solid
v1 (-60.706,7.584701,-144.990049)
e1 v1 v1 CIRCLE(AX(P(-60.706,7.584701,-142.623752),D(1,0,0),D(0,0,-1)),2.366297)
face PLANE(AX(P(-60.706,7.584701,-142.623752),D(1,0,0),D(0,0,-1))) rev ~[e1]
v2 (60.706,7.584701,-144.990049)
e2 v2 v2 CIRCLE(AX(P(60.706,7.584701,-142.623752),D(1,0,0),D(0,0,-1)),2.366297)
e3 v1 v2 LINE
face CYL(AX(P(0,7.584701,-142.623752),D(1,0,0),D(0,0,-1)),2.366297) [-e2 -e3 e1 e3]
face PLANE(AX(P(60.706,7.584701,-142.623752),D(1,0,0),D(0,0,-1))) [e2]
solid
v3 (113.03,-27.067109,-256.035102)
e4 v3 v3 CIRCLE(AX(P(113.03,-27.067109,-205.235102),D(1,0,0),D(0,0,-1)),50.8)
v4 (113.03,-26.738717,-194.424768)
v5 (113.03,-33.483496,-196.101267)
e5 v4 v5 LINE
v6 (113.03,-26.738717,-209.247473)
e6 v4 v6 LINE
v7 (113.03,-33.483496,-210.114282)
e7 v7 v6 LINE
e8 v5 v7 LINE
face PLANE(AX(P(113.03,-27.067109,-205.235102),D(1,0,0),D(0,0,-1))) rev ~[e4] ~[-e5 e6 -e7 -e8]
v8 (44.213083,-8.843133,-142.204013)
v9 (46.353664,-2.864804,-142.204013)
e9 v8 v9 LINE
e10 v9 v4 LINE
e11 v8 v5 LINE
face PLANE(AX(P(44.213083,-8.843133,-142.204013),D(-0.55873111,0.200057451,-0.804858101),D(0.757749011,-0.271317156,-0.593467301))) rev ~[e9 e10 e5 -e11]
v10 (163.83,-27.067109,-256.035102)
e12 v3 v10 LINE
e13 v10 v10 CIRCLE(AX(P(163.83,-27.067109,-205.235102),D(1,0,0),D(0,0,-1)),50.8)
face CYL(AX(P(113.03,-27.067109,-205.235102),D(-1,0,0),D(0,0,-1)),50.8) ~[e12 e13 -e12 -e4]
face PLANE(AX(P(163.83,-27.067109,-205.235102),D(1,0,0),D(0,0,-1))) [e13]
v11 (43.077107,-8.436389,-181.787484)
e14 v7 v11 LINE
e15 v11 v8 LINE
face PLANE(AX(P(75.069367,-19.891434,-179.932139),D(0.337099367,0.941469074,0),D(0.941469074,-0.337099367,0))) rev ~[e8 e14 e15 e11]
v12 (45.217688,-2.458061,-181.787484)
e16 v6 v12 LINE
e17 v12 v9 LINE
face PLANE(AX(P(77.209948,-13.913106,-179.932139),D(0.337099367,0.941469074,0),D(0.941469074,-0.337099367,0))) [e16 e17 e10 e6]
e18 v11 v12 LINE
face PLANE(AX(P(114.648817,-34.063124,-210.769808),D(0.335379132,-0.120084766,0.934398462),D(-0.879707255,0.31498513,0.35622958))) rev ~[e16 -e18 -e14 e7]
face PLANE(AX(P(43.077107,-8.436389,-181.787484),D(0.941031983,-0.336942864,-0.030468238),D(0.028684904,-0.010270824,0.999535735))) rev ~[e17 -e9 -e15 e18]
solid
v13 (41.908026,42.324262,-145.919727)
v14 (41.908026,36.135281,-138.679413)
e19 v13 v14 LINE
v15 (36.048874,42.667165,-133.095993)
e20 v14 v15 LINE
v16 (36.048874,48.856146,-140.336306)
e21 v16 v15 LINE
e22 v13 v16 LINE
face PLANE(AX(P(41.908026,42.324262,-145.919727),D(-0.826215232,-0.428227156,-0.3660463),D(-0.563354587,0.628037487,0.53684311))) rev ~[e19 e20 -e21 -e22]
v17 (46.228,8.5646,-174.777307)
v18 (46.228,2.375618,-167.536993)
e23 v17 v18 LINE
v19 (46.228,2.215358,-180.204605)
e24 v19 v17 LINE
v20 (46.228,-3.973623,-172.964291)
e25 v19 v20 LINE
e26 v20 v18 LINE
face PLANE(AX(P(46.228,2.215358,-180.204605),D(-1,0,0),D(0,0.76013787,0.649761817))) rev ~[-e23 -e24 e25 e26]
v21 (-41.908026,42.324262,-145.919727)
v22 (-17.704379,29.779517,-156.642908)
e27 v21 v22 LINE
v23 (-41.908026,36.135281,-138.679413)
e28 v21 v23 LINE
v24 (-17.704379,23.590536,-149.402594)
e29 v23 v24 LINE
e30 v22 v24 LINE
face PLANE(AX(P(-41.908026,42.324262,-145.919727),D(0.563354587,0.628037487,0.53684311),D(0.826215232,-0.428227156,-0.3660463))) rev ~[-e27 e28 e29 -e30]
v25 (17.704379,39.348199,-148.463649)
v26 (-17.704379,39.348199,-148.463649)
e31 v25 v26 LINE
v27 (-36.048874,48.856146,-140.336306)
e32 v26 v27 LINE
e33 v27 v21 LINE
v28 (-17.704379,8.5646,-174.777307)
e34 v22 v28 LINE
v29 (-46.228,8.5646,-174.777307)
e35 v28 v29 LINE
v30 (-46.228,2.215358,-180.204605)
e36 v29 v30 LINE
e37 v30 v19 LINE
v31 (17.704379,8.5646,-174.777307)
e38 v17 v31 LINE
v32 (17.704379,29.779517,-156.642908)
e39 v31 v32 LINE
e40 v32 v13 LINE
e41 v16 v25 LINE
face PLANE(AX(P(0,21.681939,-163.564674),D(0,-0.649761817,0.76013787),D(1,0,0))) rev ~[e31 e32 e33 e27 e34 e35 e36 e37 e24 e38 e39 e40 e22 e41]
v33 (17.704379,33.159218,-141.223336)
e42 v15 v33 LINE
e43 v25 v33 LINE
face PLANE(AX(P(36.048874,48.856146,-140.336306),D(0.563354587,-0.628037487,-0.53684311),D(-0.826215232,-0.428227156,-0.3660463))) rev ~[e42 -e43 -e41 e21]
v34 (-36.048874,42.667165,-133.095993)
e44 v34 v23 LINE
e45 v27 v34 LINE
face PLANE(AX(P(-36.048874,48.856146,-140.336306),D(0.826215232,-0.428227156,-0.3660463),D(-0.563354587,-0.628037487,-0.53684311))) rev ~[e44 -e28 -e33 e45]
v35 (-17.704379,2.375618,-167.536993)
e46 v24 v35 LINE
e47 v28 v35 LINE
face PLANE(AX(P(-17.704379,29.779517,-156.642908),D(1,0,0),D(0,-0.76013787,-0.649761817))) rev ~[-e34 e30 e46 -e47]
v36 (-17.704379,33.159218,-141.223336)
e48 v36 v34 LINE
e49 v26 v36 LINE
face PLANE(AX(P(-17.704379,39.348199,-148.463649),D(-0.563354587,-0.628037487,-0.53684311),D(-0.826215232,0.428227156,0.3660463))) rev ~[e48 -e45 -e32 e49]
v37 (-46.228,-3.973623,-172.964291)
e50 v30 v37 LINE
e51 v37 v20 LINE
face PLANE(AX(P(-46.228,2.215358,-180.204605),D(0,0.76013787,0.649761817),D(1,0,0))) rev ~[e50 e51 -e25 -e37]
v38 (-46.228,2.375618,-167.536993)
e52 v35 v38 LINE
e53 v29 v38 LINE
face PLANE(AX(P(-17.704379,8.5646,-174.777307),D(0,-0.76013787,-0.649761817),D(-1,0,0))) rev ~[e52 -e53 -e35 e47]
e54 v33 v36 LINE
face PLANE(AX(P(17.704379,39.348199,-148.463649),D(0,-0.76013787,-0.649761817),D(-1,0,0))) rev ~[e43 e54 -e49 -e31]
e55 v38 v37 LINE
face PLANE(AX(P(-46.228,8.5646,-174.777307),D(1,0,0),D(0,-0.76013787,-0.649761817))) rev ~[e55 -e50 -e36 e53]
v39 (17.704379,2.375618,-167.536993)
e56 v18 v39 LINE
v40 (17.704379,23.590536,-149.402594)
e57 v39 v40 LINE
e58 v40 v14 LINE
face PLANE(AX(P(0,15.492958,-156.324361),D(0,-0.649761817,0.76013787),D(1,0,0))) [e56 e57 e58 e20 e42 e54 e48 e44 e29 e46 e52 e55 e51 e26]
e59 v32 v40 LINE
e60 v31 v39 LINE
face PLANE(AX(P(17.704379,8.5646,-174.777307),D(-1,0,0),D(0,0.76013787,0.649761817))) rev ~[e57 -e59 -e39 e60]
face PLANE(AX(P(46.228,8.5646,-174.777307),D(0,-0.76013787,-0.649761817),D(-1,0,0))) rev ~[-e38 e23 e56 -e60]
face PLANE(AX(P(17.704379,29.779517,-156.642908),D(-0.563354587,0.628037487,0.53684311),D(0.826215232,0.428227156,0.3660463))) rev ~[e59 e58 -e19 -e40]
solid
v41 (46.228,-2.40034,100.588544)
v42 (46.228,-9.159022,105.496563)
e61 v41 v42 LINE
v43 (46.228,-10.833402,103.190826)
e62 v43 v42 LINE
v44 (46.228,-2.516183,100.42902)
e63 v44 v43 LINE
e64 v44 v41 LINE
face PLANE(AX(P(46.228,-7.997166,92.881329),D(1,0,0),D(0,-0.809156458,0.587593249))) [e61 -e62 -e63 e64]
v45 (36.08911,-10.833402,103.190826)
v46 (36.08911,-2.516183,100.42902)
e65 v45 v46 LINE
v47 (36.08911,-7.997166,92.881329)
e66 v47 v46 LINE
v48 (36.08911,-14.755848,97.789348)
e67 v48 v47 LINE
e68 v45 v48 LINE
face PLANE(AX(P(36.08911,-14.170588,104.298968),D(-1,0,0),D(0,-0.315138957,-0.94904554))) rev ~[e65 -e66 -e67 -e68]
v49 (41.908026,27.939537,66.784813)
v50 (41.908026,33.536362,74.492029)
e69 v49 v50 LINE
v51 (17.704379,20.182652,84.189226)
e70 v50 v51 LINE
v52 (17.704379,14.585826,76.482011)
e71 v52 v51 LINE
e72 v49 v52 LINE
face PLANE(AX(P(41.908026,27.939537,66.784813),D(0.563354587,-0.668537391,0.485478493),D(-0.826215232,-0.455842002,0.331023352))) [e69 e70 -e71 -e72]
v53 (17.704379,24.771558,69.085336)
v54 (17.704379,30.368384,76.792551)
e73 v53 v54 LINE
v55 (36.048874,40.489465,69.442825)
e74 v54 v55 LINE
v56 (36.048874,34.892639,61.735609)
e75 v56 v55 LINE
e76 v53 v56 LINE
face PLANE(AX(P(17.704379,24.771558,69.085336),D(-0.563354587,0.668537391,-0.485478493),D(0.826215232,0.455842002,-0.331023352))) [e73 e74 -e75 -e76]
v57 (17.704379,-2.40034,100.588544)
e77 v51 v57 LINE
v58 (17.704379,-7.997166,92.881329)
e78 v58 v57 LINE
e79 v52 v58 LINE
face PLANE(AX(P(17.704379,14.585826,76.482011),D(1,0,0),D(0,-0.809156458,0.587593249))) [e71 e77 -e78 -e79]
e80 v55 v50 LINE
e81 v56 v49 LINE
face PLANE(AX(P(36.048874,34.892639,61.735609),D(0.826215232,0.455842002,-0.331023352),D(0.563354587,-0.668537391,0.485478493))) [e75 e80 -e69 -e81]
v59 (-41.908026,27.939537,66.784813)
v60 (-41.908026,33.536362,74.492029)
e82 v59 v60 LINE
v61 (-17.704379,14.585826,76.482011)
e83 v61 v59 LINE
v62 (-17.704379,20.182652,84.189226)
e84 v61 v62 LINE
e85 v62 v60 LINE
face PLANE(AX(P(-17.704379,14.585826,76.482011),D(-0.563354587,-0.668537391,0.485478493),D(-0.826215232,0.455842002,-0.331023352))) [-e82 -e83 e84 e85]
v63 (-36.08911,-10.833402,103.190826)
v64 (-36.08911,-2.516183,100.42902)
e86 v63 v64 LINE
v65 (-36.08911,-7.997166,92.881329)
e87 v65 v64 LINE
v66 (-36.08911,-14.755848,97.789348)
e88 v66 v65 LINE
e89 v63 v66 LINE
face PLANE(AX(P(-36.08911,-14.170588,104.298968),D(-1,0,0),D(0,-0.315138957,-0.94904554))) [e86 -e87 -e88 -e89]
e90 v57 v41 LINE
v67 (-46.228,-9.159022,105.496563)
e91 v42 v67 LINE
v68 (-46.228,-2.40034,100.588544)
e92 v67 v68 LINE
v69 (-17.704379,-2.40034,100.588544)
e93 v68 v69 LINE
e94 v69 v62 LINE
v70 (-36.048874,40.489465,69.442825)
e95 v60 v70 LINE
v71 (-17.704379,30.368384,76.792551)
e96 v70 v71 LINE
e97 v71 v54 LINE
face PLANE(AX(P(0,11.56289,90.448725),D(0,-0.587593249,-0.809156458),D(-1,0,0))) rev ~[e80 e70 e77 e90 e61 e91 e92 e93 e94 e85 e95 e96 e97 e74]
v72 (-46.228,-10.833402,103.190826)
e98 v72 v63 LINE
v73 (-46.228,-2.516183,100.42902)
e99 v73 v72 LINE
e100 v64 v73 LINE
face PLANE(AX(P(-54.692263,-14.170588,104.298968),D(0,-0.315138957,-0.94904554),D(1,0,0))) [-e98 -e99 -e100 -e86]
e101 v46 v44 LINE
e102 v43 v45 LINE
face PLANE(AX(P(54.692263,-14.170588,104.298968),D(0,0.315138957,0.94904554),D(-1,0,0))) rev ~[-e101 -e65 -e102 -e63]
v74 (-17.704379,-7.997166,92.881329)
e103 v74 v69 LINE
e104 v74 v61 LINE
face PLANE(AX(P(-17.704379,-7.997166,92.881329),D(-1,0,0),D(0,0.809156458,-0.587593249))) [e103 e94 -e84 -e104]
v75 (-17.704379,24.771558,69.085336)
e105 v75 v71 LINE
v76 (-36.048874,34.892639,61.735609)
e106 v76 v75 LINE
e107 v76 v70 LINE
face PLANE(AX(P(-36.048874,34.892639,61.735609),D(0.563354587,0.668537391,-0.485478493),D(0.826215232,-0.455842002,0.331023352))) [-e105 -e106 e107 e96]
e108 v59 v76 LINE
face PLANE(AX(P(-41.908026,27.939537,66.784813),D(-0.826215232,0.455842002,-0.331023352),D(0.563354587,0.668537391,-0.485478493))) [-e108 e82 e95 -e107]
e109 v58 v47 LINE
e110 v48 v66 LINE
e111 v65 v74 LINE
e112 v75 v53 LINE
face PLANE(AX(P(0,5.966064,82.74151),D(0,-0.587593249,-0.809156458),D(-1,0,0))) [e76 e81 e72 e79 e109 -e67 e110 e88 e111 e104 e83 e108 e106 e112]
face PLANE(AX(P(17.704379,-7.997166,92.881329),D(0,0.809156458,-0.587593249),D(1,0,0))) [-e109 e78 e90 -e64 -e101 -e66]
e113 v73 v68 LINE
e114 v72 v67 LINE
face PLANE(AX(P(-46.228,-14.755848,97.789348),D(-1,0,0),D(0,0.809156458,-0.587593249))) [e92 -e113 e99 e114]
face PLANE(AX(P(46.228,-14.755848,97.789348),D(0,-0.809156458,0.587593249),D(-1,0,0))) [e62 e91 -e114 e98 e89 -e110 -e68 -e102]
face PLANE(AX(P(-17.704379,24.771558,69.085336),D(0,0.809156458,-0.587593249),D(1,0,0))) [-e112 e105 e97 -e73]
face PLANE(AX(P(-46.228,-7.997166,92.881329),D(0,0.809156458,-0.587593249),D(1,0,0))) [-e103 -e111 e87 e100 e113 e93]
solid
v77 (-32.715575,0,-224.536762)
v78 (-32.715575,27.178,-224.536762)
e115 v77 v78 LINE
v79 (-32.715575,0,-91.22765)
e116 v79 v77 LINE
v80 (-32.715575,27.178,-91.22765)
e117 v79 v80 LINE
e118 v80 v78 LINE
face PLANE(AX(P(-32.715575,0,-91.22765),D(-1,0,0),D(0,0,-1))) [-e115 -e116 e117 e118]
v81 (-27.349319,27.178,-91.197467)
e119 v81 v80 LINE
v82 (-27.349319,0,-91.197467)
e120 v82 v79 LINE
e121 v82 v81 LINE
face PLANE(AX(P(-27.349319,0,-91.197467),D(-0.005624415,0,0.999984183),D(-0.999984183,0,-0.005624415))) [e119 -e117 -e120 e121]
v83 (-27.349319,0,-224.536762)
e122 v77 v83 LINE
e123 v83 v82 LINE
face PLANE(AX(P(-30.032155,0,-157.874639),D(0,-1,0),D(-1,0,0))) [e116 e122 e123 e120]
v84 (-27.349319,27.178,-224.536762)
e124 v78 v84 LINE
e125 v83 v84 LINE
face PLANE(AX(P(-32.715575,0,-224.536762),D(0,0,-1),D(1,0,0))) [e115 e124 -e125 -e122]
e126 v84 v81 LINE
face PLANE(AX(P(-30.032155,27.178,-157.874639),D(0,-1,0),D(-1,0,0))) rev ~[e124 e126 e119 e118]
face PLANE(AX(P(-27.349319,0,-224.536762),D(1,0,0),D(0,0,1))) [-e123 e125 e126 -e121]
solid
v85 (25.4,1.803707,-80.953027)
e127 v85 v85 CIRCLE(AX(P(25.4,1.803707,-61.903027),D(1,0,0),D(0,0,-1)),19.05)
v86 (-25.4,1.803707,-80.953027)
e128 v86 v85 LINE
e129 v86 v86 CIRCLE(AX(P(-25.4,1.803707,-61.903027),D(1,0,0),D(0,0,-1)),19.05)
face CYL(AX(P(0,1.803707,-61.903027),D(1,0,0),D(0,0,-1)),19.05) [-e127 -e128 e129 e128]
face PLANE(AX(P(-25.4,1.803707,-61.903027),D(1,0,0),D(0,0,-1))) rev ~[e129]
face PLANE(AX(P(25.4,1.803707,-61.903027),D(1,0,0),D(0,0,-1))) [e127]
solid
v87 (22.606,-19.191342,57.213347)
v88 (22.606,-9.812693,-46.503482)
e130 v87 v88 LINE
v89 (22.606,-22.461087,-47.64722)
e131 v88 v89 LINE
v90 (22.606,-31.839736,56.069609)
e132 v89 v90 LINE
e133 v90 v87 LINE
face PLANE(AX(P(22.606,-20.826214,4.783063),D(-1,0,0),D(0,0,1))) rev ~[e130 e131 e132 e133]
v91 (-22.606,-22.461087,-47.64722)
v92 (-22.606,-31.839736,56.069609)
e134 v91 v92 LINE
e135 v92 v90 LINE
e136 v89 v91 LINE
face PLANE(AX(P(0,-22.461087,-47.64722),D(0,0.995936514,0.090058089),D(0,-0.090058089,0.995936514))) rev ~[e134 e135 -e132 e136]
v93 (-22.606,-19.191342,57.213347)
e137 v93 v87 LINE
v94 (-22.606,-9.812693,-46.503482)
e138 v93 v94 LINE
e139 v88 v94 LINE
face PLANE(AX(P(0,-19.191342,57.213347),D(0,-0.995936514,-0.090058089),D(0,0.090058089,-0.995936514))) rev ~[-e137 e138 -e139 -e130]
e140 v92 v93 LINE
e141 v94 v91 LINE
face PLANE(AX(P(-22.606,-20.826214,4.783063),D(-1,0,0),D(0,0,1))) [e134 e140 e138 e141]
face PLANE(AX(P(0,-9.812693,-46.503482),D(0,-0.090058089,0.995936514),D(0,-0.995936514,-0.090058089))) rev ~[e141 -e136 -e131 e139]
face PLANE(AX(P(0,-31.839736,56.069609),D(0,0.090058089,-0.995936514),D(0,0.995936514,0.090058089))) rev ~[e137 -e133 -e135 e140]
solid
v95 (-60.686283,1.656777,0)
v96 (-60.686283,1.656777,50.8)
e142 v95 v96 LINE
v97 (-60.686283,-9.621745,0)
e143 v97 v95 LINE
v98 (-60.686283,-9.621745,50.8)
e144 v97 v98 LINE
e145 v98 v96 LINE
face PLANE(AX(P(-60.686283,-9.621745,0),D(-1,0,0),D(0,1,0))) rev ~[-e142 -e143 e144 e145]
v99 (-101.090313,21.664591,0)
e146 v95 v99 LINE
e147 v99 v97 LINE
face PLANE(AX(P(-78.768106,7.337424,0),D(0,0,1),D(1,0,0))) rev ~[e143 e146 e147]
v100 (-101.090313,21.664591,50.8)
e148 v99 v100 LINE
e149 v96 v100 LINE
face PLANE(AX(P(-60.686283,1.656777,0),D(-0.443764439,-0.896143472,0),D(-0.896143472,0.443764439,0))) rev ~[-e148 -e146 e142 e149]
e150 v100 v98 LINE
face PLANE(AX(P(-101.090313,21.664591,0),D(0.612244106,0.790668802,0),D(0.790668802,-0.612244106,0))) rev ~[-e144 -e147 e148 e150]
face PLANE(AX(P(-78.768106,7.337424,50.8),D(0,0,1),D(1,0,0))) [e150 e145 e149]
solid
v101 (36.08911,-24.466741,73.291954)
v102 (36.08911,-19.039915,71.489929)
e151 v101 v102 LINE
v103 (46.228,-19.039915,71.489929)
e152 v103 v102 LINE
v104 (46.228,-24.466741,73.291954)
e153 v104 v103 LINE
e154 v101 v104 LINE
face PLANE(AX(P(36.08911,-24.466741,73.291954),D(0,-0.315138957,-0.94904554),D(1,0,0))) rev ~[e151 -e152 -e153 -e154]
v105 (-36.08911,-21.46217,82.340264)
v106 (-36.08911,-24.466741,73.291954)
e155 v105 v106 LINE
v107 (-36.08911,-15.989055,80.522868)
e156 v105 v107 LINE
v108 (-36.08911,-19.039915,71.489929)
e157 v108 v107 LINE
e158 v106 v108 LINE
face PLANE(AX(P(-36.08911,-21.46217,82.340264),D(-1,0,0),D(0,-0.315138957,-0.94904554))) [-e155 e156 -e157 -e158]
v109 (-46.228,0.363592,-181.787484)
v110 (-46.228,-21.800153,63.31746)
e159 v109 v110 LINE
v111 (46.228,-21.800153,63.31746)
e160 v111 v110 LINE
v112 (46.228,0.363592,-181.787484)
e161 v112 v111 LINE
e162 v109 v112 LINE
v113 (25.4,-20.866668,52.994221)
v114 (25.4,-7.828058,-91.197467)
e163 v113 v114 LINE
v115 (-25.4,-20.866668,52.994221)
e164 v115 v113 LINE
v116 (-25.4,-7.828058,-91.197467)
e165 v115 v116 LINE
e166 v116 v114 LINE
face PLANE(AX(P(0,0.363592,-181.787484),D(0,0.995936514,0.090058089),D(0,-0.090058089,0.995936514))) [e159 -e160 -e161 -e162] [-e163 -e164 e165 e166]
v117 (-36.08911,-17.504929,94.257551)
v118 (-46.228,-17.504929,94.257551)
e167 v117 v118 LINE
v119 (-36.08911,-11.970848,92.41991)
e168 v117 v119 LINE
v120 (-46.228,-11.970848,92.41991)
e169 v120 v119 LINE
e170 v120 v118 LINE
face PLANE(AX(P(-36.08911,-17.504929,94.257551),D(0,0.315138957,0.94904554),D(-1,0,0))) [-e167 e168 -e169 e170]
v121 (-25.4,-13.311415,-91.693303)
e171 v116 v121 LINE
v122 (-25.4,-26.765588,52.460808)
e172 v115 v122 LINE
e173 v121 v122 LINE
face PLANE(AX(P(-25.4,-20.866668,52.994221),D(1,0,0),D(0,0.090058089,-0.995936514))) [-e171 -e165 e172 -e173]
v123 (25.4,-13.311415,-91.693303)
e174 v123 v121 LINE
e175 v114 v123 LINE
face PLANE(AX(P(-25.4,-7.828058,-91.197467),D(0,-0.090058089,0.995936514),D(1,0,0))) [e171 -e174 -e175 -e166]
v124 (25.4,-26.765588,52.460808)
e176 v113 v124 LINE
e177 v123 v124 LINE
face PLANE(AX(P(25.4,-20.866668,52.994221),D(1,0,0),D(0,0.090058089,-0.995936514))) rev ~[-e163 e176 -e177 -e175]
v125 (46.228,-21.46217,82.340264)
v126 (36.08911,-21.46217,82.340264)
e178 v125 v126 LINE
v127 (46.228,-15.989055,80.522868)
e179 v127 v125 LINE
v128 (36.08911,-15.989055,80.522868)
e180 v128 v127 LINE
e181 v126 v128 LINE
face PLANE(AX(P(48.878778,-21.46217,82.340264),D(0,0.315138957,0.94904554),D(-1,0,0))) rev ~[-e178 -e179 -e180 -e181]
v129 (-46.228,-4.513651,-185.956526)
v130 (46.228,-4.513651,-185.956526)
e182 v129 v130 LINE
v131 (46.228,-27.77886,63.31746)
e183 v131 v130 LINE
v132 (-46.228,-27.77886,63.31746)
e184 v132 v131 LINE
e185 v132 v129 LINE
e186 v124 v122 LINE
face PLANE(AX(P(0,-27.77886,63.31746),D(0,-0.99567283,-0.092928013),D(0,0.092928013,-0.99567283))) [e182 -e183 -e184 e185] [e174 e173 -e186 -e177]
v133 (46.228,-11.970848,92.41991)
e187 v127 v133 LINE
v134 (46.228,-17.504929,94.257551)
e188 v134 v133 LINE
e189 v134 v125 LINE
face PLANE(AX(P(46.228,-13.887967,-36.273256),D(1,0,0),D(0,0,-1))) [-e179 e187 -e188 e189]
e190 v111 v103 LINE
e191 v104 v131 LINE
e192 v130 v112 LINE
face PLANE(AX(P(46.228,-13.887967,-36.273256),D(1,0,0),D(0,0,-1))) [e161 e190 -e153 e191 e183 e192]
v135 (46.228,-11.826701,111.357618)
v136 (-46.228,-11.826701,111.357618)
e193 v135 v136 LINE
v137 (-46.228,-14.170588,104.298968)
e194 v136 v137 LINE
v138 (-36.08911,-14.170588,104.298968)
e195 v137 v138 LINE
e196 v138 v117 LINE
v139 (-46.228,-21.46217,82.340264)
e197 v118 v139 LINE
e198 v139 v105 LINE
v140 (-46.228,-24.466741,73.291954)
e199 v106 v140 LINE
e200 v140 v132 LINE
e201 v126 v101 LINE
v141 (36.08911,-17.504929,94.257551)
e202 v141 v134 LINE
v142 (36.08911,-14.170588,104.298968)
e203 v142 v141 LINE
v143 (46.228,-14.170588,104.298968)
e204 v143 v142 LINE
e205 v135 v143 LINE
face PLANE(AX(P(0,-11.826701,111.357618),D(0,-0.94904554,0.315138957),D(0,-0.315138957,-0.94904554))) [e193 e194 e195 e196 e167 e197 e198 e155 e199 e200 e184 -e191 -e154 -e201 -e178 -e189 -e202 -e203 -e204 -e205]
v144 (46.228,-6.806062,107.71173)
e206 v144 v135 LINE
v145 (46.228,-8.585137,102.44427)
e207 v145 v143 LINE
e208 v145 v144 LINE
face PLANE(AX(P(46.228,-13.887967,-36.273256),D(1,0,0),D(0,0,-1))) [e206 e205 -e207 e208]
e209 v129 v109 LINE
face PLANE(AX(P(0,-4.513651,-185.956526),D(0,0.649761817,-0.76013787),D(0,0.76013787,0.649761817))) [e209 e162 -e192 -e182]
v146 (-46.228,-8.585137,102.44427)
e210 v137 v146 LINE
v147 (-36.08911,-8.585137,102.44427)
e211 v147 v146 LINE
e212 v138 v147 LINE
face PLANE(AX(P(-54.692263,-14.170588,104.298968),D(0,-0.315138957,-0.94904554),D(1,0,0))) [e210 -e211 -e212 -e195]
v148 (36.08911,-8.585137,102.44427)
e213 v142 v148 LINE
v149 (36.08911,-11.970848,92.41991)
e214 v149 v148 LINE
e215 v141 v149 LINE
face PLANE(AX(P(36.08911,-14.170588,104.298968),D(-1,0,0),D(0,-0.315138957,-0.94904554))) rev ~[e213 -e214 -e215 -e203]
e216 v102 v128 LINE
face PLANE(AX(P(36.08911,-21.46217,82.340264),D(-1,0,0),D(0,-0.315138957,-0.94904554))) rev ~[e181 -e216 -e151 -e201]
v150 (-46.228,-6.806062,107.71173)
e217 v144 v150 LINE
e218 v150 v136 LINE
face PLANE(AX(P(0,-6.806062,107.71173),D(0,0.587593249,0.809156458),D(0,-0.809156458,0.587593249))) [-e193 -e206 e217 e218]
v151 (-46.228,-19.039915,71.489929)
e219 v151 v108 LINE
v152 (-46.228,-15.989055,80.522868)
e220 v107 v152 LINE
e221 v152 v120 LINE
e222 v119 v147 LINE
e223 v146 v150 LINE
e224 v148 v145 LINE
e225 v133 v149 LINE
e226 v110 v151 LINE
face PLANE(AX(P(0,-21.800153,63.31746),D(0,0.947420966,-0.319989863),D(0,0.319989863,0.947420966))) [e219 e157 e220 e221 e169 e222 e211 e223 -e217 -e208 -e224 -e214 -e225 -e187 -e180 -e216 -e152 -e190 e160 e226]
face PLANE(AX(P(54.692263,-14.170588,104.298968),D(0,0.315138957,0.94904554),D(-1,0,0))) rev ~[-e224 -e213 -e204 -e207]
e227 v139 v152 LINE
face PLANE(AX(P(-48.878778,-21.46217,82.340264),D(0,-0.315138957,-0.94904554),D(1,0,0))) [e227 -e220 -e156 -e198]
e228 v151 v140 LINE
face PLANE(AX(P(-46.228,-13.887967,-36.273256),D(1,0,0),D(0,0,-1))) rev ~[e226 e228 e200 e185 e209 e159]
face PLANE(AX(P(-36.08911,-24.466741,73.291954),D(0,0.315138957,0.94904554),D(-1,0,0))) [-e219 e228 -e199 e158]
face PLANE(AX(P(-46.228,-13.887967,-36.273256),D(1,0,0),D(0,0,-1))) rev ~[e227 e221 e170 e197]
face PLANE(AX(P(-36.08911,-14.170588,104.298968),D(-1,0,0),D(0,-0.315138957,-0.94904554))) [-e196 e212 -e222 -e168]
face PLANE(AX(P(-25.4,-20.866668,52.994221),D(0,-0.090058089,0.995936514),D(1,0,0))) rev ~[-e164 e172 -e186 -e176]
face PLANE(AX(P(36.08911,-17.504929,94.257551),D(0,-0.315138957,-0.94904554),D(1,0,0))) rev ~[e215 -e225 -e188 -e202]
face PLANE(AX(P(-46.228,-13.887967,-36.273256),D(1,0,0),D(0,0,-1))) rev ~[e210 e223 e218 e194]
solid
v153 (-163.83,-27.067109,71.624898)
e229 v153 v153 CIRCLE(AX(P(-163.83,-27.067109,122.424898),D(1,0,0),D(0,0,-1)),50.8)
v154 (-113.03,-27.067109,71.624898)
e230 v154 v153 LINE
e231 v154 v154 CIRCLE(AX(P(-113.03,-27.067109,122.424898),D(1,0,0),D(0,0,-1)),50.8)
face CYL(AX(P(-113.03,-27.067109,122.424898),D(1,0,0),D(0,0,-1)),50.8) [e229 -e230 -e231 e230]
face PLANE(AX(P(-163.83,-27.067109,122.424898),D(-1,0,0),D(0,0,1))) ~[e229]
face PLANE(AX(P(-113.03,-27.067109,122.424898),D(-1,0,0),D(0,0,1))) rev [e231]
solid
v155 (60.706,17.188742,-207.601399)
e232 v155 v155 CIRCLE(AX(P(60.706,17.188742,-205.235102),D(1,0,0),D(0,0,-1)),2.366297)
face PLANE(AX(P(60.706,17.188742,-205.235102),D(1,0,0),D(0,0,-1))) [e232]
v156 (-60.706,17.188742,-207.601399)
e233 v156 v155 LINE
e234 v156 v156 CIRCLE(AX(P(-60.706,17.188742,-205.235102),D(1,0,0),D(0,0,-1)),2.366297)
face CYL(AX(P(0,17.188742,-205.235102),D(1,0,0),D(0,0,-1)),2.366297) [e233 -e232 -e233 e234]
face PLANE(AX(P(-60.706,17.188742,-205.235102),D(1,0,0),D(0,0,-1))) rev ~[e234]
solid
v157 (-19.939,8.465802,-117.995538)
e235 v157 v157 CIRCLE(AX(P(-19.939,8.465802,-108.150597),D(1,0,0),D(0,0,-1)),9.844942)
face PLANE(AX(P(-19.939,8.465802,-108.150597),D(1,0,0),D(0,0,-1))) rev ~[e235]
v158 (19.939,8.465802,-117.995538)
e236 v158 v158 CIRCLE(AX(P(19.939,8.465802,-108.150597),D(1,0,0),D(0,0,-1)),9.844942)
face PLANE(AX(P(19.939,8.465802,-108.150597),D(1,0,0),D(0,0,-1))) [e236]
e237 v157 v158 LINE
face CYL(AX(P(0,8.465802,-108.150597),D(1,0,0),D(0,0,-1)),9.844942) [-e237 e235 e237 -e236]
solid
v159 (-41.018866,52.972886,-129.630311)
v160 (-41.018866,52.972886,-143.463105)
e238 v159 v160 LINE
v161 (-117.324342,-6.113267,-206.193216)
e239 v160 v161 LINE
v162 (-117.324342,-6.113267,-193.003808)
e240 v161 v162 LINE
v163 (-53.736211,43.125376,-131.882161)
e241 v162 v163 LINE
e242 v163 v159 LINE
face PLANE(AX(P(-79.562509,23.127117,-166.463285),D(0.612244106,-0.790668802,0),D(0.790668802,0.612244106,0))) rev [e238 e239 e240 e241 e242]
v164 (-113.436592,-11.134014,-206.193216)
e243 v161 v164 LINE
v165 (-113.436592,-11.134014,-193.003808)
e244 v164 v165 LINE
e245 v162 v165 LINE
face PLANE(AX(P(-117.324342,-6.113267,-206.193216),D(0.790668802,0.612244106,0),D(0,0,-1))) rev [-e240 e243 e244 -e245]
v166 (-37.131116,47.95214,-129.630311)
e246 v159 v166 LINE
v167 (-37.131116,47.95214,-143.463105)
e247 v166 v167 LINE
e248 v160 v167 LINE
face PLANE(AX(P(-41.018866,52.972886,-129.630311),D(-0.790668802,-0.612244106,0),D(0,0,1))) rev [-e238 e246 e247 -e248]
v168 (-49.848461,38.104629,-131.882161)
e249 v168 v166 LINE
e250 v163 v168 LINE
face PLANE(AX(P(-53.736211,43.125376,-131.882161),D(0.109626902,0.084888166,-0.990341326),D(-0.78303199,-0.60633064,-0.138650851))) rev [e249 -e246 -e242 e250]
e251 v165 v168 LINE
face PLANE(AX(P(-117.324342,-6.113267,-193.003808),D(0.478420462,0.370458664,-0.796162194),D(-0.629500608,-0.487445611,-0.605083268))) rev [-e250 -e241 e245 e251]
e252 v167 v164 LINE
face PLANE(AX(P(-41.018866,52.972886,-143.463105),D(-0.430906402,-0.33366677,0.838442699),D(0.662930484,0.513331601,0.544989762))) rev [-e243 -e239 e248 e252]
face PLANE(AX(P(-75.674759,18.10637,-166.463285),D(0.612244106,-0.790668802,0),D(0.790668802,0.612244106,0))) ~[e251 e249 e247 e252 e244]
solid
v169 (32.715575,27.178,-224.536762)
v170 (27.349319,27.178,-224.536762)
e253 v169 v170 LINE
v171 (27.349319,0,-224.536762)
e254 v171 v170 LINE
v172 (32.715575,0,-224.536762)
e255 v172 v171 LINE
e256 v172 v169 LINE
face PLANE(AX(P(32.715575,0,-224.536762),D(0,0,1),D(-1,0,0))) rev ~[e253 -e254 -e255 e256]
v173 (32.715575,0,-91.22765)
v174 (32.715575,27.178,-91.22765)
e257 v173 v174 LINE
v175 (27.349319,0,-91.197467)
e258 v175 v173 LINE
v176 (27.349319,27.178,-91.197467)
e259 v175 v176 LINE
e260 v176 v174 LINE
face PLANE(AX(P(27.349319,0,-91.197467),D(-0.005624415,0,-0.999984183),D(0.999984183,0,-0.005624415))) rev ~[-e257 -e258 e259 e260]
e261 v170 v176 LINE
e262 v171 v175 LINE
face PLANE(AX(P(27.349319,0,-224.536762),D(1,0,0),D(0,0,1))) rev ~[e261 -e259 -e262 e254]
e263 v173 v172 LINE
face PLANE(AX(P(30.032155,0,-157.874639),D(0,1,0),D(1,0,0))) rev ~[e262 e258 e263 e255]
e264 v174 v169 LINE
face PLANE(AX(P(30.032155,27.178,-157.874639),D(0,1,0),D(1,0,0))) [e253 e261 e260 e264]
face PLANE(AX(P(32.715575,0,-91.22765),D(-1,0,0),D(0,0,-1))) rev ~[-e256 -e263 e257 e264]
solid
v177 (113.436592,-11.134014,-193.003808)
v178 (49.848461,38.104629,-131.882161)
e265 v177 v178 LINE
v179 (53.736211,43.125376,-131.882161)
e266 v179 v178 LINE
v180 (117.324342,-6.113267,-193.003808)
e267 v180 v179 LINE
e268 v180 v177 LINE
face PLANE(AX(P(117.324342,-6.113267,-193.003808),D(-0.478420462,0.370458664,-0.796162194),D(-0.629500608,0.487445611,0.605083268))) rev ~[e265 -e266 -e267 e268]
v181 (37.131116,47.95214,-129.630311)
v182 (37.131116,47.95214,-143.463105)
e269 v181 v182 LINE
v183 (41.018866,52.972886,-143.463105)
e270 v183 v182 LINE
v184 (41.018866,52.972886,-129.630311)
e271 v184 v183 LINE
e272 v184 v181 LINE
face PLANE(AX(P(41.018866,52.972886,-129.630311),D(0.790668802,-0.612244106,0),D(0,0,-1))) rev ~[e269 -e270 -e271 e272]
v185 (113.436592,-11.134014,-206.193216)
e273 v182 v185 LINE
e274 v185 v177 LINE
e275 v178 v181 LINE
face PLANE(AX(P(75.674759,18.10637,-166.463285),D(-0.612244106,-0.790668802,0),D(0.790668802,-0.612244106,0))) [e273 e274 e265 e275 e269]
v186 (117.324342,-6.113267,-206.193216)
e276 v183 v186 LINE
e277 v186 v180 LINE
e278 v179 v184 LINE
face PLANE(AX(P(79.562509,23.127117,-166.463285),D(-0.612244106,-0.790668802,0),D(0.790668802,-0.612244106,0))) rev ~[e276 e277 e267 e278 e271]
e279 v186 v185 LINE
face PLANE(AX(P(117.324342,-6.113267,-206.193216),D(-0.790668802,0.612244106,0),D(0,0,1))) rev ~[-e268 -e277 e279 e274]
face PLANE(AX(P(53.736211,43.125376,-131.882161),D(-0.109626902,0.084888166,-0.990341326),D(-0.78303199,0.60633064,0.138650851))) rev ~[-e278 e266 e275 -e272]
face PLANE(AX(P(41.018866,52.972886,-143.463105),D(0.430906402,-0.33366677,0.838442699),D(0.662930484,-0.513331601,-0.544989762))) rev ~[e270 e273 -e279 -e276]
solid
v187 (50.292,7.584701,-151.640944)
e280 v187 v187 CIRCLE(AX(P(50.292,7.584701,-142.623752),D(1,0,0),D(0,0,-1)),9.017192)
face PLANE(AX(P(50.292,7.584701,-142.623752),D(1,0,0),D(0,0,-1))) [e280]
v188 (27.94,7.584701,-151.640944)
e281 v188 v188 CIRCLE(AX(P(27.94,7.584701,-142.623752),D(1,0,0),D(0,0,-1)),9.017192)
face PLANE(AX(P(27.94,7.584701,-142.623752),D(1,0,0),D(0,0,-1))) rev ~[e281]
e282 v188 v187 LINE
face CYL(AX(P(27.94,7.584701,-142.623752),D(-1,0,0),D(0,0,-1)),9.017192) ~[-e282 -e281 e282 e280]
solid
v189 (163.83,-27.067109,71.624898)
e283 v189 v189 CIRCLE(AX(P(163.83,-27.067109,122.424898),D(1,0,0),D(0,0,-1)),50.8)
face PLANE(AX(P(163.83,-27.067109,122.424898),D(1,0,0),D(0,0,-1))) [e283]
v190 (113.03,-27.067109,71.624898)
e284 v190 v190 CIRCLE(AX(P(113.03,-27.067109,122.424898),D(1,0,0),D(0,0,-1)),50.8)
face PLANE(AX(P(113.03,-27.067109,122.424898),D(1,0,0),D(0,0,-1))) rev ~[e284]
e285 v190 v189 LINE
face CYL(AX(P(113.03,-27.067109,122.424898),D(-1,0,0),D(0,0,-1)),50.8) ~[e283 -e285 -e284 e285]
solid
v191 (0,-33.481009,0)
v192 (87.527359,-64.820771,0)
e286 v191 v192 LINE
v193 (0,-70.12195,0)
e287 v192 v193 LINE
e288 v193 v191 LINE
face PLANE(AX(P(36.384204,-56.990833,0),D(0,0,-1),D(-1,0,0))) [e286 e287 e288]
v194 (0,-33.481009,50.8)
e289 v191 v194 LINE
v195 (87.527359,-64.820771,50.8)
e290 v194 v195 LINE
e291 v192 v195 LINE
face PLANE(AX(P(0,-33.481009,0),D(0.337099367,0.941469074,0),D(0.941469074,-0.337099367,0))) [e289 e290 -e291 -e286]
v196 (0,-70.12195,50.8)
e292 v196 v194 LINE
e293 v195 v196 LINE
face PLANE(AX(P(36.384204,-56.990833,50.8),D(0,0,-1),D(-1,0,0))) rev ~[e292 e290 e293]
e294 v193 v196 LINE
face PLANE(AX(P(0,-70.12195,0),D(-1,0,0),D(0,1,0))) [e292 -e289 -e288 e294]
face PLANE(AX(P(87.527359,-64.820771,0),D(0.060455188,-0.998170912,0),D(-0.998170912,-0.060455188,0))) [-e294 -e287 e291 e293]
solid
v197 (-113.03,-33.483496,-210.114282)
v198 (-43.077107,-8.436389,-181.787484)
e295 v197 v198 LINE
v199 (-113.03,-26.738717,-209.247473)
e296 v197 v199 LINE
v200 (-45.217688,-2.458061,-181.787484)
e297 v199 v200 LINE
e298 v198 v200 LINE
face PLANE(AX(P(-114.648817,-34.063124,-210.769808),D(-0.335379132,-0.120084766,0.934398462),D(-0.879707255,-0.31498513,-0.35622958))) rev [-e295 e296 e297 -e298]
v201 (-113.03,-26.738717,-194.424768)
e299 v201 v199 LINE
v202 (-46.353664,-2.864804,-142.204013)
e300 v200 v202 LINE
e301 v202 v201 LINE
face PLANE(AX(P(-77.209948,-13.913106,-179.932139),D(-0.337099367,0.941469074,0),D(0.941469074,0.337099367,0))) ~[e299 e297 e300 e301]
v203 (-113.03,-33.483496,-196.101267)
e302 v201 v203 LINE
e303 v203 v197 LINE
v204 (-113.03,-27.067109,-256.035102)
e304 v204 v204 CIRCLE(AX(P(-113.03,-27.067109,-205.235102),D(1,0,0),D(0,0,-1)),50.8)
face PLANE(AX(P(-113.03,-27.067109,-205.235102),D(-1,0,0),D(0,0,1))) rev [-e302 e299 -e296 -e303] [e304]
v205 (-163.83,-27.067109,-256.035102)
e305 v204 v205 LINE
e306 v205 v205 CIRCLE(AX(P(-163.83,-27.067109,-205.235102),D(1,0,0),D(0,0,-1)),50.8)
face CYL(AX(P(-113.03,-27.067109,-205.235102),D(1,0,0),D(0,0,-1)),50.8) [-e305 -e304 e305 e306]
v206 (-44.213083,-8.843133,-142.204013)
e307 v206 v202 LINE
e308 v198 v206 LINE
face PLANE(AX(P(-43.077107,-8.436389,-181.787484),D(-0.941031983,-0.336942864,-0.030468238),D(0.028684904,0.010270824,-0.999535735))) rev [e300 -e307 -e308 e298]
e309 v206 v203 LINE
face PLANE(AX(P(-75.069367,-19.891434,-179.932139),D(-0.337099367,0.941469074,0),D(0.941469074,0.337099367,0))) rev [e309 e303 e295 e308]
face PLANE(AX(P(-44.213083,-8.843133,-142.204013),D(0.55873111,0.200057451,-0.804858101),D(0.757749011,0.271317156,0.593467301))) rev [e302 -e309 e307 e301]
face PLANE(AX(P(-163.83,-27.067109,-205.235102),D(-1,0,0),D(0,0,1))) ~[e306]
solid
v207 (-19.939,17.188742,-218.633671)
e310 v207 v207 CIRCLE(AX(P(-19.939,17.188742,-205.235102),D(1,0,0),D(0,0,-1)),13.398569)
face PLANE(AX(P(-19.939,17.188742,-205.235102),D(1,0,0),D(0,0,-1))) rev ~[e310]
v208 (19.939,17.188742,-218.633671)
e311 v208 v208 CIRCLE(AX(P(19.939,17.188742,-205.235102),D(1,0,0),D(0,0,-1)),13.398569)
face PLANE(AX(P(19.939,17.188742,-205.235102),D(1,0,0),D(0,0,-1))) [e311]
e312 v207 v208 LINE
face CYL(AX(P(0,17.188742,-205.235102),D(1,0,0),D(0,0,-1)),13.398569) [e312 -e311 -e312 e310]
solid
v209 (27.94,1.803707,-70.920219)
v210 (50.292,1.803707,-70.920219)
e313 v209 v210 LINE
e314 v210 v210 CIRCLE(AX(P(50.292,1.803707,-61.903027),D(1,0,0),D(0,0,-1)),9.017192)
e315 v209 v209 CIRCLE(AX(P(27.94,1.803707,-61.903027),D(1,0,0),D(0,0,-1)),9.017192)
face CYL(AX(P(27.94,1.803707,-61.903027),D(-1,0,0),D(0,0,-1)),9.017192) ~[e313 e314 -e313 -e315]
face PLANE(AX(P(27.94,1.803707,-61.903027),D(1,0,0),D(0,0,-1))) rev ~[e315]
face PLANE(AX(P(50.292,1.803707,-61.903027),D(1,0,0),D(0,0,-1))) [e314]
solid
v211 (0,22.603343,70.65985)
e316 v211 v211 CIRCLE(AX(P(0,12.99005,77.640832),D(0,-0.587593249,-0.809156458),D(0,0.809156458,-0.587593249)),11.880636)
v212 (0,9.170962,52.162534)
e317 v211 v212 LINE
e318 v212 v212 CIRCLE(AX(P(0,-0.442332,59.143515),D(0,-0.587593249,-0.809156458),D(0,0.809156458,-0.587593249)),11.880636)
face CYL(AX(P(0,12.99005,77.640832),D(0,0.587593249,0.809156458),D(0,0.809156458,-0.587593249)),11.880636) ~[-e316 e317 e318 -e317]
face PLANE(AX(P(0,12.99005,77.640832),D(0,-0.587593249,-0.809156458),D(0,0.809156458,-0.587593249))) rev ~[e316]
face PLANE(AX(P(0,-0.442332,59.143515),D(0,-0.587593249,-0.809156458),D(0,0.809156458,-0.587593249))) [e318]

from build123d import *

# Parameters (mm, degrees)
EXTRUDE8_DEPTH    = 50.8
EXTRUDE8_2_DEPTH  = 50.8
EXTRUDE9_START    = 38.1
EXTRUDE9_DEPTH    = 6.35
EXTRUDE10_START   = -111.76
EXTRUDE10_DEPTH   = 6.35
EXTRUDE1_START    = 113.03
SKETCH1_R         = 50.8
EXTRUDE1_DEPTH    = 50.8
EXTRUDE3_DEPTH    = 46.228
EXTRUDE4_START    = -12.7
EXTRUDE4_DEPTH    = 9.525
EXTRUDE5_DEPTH    = 9.525
SKETCH7_W         = 50.8
SKETCH7_H         = 144.78
EXTRUDE6_DEPTH    = 32.131
SKETCH8_R         = 19.05
EXTRUDE7_DEPTH    = 25.4
EXTRUDE11_DEPTH   = 22.606
SKETCH15_R        = 9.84494168
EXTRUDE13_DEPTH   = 19.939
SKETCH15_R_2      = 13.398568769
EXTRUDE13_2_DEPTH = 19.939
EXTRUDE12_START   = 2.54
SKETCH14_R        = 9.017192195
EXTRUDE12_DEPTH   = 22.352
EXTRUDE12_2_DEPTH = 22.352
EXTRUDE14_DEPTH   = 27.178
EXTRUDE14_2_DEPTH = 27.178
SKETCH17_R        = 2.366297188
EXTRUDE15_DEPTH   = 60.706
EXTRUDE15_2_DEPTH = 60.706
SKETCH19_R        = 11.880635855
EXTRUDE16_DEPTH   = 22.86
EXTRUDE17_DEPTH   = 22.86


with BuildPart() as part:
    # Sketch9 → Extrude8 (new body)
    with BuildSketch(Plane.XY):
        Polygon((0, -70.121950413), (0, -33.481008527), (87.527359015, -64.820771167), align=None)
    extrude(amount=EXTRUDE8_DEPTH)


with BuildPart() as body_2:
    # Sketch9 → Extrude8 2 (new body)
    with BuildSketch(Plane.XY):
        Polygon((-101.090313133, 21.664590709), (-60.686282677, -9.621744923), (-60.686282677, 1.656776735), align=None)
    extrude(amount=EXTRUDE8_2_DEPTH)


with BuildPart() as body_3:
    # Sketch10 → Extrude9 (new body)
    with BuildSketch(Plane(origin=(-10.625821763, -29.676361207, 0), x_dir=(0.941469073773161, -0.3370993668470862, 0), z_dir=(0.3370993668470862, 0.941469073773161, 0)).offset(EXTRUDE9_START)):
        Polygon((44.60626445, 142.204013438), (119.420973388, 197.369120583), (119.420973388, 210.76980783), (43.399665669, 181.787484358), align=None)
    extrude(amount=EXTRUDE9_DEPTH)

    # Sketch1 → Extrude1 (add)
    with BuildSketch(Plane(origin=(0, 0, 0), x_dir=(0, 0, -1), z_dir=(1, 0, 0)).offset(EXTRUDE1_START)):
        with Locations((-122.42489779, -27.067109145)):
            Circle(SKETCH1_R)
        with Locations((205.23510221, -27.067109145)):
            Circle(SKETCH1_R)
    extrude(amount=EXTRUDE1_DEPTH)


with BuildPart() as body_4:
    # Sketch11 → Extrude10 (new body)
    with BuildSketch(Plane(origin=(-27.405535431, -35.392258821, 0), x_dir=(0.7906688019939506, -0.6122441061810647, 0), z_dir=(-0.6122441061810647, -0.7906688019939506, 0)).offset(EXTRUDE10_START)):
        Polygon((0, -143.463104662), (96.507508561, -206.193216335), (96.507508561, -193.00380824), (16.084288467, -131.882160969), (0, -129.630310806), align=None)
    extrude(amount=EXTRUDE10_DEPTH)


with BuildPart() as extrude1_piece_1:
    # of the separate pieces the step leaves, piece 1, a body of its own (extrude1_pieces)
    add(body_3.part.solids().sort_by_distance((44.21308259, -8.843132999, -142.204013438))[0])


with BuildPart() as extrude1_piece_2:
    # of the separate pieces the step leaves, piece 2, a body of its own (extrude1_pieces)
    add(body_3.part.solids().sort_by_distance((113.03, -27.067109145, 71.62489779))[0])


with BuildPart() as body_6:
    # Sketch2 → Extrude3 (new, symmetric)
    with BuildSketch(Plane(origin=(0, 0, 0), x_dir=(0, 0, -1), z_dir=(1, 0, 0))):
        Polygon((-111.357617966, -11.826701004), (-63.31745975, -27.778859998), (185.956526111, -4.513651259), (181.787484358, 0.363592119), (-63.31745975, -21.800152827), (-107.711729943, -6.80606157), align=None)
    extrude(amount=EXTRUDE3_DEPTH, both=True)

    # Sketch7 → Extrude6 (cut)
    with BuildSketch(Plane(origin=(0, -15.944265152, -1.441768657), x_dir=(1, 0, 0), z_dir=(0, 0.9959365143393393, 0.09005808906259978))):
        with Locations((0, 17.731907901)):
            Rectangle(SKETCH7_W, SKETCH7_H)
    extrude(amount=-EXTRUDE6_DEPTH, mode=Mode.SUBTRACT)


with BuildPart() as body_7:
    # Mirror1: mirrored copy
    add(extrude1_piece_2.part.mirror(Plane(origin=(0, 0, 0), x_dir=(0, 0, 1), z_dir=(1, 0, 0))))


with BuildPart() as body_8:
    # Mirror1 2: mirrored copy
    add(extrude1_piece_1.part.mirror(Plane(origin=(0, 0, 0), x_dir=(0, 0, 1), z_dir=(1, 0, 0))))


with BuildPart() as body_9:
    # Mirror1 3: mirrored copy
    add(body_4.part.mirror(Plane(origin=(0, 0, 0), x_dir=(0, 0, 1), z_dir=(1, 0, 0))))


with BuildPart() as body_10:
    # Sketch4 → Extrude4 (new body)
    with BuildSketch(Plane(origin=(0, 32.846842942, 78.916583118), x_dir=(1, 0, 0), z_dir=(0, 0.5875932493540642, 0.8091564578704991)).offset(EXTRUDE4_START)):
        Polygon((-46.228, -49.607533798), (-46.228, -41.254783971), (-17.704379343, -41.254783971), (-17.704379343, -13.345481539), (-41.908026413, 3.157767334), (-36.048874465, 11.750793288), (-17.704379343, -0.757394737), (17.704379343, -0.757394737), (36.048874465, 11.750793288), (41.908026413, 3.157767334), (17.704379343, -13.345481539), (17.704379343, -41.254783971), (46.228, -41.254783971), (46.228, -49.607533798), align=None)
    extrude(amount=EXTRUDE4_DEPTH)


with BuildPart() as body_11:
    # Sketch5 → Extrude5 (new body)
    with BuildSketch(Plane(origin=(0, 3.86720885, -178.792611372), x_dir=(-1, 0, 0), z_dir=(0, 0.6497618168388093, -0.7601378699803936))):
        Polygon((-46.228, -2.17309348), (-46.228, 6.179656348), (-17.704379343, 6.179656348), (-17.704379343, 34.08895878), (-41.908026413, 50.592207653), (-36.048874465, 59.185233606), (-17.704379343, 46.677045581), (17.704379343, 46.677045581), (36.048874465, 59.185233606), (41.908026413, 50.592207653), (17.704379343, 34.08895878), (17.704379343, 6.179656348), (46.228, 6.179656348), (46.228, -2.17309348), align=None)
    extrude(amount=-EXTRUDE5_DEPTH)


with BuildPart() as body_12:
    # Sketch8 → Extrude7 (new, symmetric)
    with BuildSketch(Plane(origin=(0, 0, 0), x_dir=(0, 0, -1), z_dir=(1, 0, 0))):
        with Locations((61.903027064, 1.80370738)):
            Circle(SKETCH8_R)
    extrude(amount=EXTRUDE7_DEPTH, both=True)


with BuildPart() as body_13:
    # Sketch13 → Extrude11 (new, symmetric)
    with BuildSketch(Plane(origin=(0, 0, 0), x_dir=(0, 0, -1), z_dir=(1, 0, 0))):
        Polygon((-57.213346612, -19.191342217), (46.503481991, -9.812692822), (47.647219722, -22.461086555), (-56.069608881, -31.839735949), align=None)
    extrude(amount=EXTRUDE11_DEPTH, both=True)


with BuildPart() as body_14:
    # Sketch15 → Extrude13 (new, symmetric)
    with BuildSketch(Plane(origin=(0, 0, 0), x_dir=(0, 0, -1), z_dir=(1, 0, 0))):
        with Locations((108.15059672, 8.465802363)):
            Circle(SKETCH15_R)
    extrude(amount=EXTRUDE13_DEPTH, both=True)


with BuildPart() as body_15:
    # Sketch15 → Extrude13 2 (new, symmetric)
    with BuildSketch(Plane(origin=(0, 0, 0), x_dir=(0, 0, -1), z_dir=(1, 0, 0))):
        with Locations((205.23510221, 17.188741524)):
            Circle(SKETCH15_R_2)
    extrude(amount=EXTRUDE13_2_DEPTH, both=True)


with BuildPart() as body_16:
    # Sketch14 → Extrude12 (new body)
    with BuildSketch(Plane(origin=(25.4, 0, 0), x_dir=(0, 0, -1), z_dir=(1, 0, 0)).offset(EXTRUDE12_START)):
        with Locations((61.903027064, 1.80370738)):
            Circle(SKETCH14_R)
    extrude(amount=EXTRUDE12_DEPTH)


with BuildPart() as body_17:
    # Sketch14 → Extrude12 2 (new body)
    with BuildSketch(Plane(origin=(25.4, 0, 0), x_dir=(0, 0, -1), z_dir=(1, 0, 0)).offset(EXTRUDE12_START)):
        with Locations((142.623751655, 7.584701116)):
            Circle(SKETCH14_R)
    extrude(amount=EXTRUDE12_2_DEPTH)


with BuildPart() as body_18:
    # Sketch16 → Extrude14 (new body)
    with BuildSketch(Plane(origin=(0, 0, 0), x_dir=(1, 0, 0), z_dir=(0, 1, 0))):
        Polygon((32.715575426, 91.227650011), (32.715575426, 224.536762388), (27.349318784, 224.536762388), (27.349318784, 91.197467478), align=None)
    extrude(amount=EXTRUDE14_DEPTH)


with BuildPart() as body_19:
    # Sketch16 → Extrude14 2 (new body)
    with BuildSketch(Plane(origin=(0, 0, 0), x_dir=(1, 0, 0), z_dir=(0, 1, 0))):
        Polygon((-27.349318784, 91.197467478), (-32.715575426, 91.227650011), (-32.715575426, 224.536762388), (-27.349318784, 224.536762388), align=None)
    extrude(amount=EXTRUDE14_2_DEPTH)


with BuildPart() as body_20:
    # Sketch17 → Extrude15 (new, symmetric)
    with BuildSketch(Plane(origin=(0, 0, 0), x_dir=(0, 0, -1), z_dir=(1, 0, 0))):
        with Locations((142.623751655, 7.584701116)):
            Circle(SKETCH17_R)
    extrude(amount=EXTRUDE15_DEPTH, both=True)


with BuildPart() as body_21:
    # Sketch17 → Extrude15 2 (new, symmetric)
    with BuildSketch(Plane(origin=(0, 0, 0), x_dir=(0, 0, -1), z_dir=(1, 0, 0))):
        with Locations((205.23510221, 17.188741524)):
            Circle(SKETCH17_R)
    extrude(amount=EXTRUDE15_2_DEPTH, both=True)


with BuildPart() as body_22:
    # Sketch19 → Extrude16 (new body)
    with BuildSketch(Plane(origin=(0, 41.399732066, 57.01028831), x_dir=(-1, 0, 0), z_dir=(0, -0.5875932493540641, -0.8091564578704991))):
        with Locations(Location((0, -35.110245629, 0), (0, 0, 90))):
            Circle(SKETCH19_R)
    extrude(amount=EXTRUDE16_DEPTH)


with BuildPart() as extrude17_tool:
    # Sketch20 → Extrude17 (new body)
    with BuildSketch(Plane(origin=(0, -43.957133456, 14.596354547), x_dir=(1, 0, 0), z_dir=(0, -0.9490455404212153, 0.31513895698025596))):
        Polygon((54.692263435, 94.518766474), (36.089110401, 94.518766474), (36.089110401, 83.938223186), (48.878778112, 83.938223186), (48.878778112, 71.381094889), (36.089110401, 71.381094889), (36.089110401, 61.846978959), (53.645836077, 61.846978959), align=None)
        Polygon((-53.645836077, 61.846978959), (-54.692263435, 94.518766474), (-36.089110401, 94.518766474), (-36.089110401, 83.938223186), (-48.878778112, 83.938223186), (-48.878778112, 71.381094889), (-36.089110401, 71.381094889), (-36.089110401, 61.846978959), align=None)
    extrude(amount=-EXTRUDE17_DEPTH)


with BuildPart() as body_6_1:
    add(body_6.part)

    # Extrude17: cut by extrude17_tool
    add(extrude17_tool.part, mode=Mode.SUBTRACT)


with BuildPart() as body_10_1:
    add(body_10.part)

    # Extrude17: cut by extrude17_tool
    add(extrude17_tool.part, mode=Mode.SUBTRACT)


solid = Compound([part.part, body_2.part, body_4.part, extrude1_piece_1.part, extrude1_piece_2.part, body_7.part, body_8.part, body_9.part, body_11.part, body_12.part, body_13.part, body_14.part, body_15.part, body_16.part, body_17.part, body_18.part, body_19.part, body_20.part, body_21.part, body_22.part, body_6_1.part, body_10_1.part])
